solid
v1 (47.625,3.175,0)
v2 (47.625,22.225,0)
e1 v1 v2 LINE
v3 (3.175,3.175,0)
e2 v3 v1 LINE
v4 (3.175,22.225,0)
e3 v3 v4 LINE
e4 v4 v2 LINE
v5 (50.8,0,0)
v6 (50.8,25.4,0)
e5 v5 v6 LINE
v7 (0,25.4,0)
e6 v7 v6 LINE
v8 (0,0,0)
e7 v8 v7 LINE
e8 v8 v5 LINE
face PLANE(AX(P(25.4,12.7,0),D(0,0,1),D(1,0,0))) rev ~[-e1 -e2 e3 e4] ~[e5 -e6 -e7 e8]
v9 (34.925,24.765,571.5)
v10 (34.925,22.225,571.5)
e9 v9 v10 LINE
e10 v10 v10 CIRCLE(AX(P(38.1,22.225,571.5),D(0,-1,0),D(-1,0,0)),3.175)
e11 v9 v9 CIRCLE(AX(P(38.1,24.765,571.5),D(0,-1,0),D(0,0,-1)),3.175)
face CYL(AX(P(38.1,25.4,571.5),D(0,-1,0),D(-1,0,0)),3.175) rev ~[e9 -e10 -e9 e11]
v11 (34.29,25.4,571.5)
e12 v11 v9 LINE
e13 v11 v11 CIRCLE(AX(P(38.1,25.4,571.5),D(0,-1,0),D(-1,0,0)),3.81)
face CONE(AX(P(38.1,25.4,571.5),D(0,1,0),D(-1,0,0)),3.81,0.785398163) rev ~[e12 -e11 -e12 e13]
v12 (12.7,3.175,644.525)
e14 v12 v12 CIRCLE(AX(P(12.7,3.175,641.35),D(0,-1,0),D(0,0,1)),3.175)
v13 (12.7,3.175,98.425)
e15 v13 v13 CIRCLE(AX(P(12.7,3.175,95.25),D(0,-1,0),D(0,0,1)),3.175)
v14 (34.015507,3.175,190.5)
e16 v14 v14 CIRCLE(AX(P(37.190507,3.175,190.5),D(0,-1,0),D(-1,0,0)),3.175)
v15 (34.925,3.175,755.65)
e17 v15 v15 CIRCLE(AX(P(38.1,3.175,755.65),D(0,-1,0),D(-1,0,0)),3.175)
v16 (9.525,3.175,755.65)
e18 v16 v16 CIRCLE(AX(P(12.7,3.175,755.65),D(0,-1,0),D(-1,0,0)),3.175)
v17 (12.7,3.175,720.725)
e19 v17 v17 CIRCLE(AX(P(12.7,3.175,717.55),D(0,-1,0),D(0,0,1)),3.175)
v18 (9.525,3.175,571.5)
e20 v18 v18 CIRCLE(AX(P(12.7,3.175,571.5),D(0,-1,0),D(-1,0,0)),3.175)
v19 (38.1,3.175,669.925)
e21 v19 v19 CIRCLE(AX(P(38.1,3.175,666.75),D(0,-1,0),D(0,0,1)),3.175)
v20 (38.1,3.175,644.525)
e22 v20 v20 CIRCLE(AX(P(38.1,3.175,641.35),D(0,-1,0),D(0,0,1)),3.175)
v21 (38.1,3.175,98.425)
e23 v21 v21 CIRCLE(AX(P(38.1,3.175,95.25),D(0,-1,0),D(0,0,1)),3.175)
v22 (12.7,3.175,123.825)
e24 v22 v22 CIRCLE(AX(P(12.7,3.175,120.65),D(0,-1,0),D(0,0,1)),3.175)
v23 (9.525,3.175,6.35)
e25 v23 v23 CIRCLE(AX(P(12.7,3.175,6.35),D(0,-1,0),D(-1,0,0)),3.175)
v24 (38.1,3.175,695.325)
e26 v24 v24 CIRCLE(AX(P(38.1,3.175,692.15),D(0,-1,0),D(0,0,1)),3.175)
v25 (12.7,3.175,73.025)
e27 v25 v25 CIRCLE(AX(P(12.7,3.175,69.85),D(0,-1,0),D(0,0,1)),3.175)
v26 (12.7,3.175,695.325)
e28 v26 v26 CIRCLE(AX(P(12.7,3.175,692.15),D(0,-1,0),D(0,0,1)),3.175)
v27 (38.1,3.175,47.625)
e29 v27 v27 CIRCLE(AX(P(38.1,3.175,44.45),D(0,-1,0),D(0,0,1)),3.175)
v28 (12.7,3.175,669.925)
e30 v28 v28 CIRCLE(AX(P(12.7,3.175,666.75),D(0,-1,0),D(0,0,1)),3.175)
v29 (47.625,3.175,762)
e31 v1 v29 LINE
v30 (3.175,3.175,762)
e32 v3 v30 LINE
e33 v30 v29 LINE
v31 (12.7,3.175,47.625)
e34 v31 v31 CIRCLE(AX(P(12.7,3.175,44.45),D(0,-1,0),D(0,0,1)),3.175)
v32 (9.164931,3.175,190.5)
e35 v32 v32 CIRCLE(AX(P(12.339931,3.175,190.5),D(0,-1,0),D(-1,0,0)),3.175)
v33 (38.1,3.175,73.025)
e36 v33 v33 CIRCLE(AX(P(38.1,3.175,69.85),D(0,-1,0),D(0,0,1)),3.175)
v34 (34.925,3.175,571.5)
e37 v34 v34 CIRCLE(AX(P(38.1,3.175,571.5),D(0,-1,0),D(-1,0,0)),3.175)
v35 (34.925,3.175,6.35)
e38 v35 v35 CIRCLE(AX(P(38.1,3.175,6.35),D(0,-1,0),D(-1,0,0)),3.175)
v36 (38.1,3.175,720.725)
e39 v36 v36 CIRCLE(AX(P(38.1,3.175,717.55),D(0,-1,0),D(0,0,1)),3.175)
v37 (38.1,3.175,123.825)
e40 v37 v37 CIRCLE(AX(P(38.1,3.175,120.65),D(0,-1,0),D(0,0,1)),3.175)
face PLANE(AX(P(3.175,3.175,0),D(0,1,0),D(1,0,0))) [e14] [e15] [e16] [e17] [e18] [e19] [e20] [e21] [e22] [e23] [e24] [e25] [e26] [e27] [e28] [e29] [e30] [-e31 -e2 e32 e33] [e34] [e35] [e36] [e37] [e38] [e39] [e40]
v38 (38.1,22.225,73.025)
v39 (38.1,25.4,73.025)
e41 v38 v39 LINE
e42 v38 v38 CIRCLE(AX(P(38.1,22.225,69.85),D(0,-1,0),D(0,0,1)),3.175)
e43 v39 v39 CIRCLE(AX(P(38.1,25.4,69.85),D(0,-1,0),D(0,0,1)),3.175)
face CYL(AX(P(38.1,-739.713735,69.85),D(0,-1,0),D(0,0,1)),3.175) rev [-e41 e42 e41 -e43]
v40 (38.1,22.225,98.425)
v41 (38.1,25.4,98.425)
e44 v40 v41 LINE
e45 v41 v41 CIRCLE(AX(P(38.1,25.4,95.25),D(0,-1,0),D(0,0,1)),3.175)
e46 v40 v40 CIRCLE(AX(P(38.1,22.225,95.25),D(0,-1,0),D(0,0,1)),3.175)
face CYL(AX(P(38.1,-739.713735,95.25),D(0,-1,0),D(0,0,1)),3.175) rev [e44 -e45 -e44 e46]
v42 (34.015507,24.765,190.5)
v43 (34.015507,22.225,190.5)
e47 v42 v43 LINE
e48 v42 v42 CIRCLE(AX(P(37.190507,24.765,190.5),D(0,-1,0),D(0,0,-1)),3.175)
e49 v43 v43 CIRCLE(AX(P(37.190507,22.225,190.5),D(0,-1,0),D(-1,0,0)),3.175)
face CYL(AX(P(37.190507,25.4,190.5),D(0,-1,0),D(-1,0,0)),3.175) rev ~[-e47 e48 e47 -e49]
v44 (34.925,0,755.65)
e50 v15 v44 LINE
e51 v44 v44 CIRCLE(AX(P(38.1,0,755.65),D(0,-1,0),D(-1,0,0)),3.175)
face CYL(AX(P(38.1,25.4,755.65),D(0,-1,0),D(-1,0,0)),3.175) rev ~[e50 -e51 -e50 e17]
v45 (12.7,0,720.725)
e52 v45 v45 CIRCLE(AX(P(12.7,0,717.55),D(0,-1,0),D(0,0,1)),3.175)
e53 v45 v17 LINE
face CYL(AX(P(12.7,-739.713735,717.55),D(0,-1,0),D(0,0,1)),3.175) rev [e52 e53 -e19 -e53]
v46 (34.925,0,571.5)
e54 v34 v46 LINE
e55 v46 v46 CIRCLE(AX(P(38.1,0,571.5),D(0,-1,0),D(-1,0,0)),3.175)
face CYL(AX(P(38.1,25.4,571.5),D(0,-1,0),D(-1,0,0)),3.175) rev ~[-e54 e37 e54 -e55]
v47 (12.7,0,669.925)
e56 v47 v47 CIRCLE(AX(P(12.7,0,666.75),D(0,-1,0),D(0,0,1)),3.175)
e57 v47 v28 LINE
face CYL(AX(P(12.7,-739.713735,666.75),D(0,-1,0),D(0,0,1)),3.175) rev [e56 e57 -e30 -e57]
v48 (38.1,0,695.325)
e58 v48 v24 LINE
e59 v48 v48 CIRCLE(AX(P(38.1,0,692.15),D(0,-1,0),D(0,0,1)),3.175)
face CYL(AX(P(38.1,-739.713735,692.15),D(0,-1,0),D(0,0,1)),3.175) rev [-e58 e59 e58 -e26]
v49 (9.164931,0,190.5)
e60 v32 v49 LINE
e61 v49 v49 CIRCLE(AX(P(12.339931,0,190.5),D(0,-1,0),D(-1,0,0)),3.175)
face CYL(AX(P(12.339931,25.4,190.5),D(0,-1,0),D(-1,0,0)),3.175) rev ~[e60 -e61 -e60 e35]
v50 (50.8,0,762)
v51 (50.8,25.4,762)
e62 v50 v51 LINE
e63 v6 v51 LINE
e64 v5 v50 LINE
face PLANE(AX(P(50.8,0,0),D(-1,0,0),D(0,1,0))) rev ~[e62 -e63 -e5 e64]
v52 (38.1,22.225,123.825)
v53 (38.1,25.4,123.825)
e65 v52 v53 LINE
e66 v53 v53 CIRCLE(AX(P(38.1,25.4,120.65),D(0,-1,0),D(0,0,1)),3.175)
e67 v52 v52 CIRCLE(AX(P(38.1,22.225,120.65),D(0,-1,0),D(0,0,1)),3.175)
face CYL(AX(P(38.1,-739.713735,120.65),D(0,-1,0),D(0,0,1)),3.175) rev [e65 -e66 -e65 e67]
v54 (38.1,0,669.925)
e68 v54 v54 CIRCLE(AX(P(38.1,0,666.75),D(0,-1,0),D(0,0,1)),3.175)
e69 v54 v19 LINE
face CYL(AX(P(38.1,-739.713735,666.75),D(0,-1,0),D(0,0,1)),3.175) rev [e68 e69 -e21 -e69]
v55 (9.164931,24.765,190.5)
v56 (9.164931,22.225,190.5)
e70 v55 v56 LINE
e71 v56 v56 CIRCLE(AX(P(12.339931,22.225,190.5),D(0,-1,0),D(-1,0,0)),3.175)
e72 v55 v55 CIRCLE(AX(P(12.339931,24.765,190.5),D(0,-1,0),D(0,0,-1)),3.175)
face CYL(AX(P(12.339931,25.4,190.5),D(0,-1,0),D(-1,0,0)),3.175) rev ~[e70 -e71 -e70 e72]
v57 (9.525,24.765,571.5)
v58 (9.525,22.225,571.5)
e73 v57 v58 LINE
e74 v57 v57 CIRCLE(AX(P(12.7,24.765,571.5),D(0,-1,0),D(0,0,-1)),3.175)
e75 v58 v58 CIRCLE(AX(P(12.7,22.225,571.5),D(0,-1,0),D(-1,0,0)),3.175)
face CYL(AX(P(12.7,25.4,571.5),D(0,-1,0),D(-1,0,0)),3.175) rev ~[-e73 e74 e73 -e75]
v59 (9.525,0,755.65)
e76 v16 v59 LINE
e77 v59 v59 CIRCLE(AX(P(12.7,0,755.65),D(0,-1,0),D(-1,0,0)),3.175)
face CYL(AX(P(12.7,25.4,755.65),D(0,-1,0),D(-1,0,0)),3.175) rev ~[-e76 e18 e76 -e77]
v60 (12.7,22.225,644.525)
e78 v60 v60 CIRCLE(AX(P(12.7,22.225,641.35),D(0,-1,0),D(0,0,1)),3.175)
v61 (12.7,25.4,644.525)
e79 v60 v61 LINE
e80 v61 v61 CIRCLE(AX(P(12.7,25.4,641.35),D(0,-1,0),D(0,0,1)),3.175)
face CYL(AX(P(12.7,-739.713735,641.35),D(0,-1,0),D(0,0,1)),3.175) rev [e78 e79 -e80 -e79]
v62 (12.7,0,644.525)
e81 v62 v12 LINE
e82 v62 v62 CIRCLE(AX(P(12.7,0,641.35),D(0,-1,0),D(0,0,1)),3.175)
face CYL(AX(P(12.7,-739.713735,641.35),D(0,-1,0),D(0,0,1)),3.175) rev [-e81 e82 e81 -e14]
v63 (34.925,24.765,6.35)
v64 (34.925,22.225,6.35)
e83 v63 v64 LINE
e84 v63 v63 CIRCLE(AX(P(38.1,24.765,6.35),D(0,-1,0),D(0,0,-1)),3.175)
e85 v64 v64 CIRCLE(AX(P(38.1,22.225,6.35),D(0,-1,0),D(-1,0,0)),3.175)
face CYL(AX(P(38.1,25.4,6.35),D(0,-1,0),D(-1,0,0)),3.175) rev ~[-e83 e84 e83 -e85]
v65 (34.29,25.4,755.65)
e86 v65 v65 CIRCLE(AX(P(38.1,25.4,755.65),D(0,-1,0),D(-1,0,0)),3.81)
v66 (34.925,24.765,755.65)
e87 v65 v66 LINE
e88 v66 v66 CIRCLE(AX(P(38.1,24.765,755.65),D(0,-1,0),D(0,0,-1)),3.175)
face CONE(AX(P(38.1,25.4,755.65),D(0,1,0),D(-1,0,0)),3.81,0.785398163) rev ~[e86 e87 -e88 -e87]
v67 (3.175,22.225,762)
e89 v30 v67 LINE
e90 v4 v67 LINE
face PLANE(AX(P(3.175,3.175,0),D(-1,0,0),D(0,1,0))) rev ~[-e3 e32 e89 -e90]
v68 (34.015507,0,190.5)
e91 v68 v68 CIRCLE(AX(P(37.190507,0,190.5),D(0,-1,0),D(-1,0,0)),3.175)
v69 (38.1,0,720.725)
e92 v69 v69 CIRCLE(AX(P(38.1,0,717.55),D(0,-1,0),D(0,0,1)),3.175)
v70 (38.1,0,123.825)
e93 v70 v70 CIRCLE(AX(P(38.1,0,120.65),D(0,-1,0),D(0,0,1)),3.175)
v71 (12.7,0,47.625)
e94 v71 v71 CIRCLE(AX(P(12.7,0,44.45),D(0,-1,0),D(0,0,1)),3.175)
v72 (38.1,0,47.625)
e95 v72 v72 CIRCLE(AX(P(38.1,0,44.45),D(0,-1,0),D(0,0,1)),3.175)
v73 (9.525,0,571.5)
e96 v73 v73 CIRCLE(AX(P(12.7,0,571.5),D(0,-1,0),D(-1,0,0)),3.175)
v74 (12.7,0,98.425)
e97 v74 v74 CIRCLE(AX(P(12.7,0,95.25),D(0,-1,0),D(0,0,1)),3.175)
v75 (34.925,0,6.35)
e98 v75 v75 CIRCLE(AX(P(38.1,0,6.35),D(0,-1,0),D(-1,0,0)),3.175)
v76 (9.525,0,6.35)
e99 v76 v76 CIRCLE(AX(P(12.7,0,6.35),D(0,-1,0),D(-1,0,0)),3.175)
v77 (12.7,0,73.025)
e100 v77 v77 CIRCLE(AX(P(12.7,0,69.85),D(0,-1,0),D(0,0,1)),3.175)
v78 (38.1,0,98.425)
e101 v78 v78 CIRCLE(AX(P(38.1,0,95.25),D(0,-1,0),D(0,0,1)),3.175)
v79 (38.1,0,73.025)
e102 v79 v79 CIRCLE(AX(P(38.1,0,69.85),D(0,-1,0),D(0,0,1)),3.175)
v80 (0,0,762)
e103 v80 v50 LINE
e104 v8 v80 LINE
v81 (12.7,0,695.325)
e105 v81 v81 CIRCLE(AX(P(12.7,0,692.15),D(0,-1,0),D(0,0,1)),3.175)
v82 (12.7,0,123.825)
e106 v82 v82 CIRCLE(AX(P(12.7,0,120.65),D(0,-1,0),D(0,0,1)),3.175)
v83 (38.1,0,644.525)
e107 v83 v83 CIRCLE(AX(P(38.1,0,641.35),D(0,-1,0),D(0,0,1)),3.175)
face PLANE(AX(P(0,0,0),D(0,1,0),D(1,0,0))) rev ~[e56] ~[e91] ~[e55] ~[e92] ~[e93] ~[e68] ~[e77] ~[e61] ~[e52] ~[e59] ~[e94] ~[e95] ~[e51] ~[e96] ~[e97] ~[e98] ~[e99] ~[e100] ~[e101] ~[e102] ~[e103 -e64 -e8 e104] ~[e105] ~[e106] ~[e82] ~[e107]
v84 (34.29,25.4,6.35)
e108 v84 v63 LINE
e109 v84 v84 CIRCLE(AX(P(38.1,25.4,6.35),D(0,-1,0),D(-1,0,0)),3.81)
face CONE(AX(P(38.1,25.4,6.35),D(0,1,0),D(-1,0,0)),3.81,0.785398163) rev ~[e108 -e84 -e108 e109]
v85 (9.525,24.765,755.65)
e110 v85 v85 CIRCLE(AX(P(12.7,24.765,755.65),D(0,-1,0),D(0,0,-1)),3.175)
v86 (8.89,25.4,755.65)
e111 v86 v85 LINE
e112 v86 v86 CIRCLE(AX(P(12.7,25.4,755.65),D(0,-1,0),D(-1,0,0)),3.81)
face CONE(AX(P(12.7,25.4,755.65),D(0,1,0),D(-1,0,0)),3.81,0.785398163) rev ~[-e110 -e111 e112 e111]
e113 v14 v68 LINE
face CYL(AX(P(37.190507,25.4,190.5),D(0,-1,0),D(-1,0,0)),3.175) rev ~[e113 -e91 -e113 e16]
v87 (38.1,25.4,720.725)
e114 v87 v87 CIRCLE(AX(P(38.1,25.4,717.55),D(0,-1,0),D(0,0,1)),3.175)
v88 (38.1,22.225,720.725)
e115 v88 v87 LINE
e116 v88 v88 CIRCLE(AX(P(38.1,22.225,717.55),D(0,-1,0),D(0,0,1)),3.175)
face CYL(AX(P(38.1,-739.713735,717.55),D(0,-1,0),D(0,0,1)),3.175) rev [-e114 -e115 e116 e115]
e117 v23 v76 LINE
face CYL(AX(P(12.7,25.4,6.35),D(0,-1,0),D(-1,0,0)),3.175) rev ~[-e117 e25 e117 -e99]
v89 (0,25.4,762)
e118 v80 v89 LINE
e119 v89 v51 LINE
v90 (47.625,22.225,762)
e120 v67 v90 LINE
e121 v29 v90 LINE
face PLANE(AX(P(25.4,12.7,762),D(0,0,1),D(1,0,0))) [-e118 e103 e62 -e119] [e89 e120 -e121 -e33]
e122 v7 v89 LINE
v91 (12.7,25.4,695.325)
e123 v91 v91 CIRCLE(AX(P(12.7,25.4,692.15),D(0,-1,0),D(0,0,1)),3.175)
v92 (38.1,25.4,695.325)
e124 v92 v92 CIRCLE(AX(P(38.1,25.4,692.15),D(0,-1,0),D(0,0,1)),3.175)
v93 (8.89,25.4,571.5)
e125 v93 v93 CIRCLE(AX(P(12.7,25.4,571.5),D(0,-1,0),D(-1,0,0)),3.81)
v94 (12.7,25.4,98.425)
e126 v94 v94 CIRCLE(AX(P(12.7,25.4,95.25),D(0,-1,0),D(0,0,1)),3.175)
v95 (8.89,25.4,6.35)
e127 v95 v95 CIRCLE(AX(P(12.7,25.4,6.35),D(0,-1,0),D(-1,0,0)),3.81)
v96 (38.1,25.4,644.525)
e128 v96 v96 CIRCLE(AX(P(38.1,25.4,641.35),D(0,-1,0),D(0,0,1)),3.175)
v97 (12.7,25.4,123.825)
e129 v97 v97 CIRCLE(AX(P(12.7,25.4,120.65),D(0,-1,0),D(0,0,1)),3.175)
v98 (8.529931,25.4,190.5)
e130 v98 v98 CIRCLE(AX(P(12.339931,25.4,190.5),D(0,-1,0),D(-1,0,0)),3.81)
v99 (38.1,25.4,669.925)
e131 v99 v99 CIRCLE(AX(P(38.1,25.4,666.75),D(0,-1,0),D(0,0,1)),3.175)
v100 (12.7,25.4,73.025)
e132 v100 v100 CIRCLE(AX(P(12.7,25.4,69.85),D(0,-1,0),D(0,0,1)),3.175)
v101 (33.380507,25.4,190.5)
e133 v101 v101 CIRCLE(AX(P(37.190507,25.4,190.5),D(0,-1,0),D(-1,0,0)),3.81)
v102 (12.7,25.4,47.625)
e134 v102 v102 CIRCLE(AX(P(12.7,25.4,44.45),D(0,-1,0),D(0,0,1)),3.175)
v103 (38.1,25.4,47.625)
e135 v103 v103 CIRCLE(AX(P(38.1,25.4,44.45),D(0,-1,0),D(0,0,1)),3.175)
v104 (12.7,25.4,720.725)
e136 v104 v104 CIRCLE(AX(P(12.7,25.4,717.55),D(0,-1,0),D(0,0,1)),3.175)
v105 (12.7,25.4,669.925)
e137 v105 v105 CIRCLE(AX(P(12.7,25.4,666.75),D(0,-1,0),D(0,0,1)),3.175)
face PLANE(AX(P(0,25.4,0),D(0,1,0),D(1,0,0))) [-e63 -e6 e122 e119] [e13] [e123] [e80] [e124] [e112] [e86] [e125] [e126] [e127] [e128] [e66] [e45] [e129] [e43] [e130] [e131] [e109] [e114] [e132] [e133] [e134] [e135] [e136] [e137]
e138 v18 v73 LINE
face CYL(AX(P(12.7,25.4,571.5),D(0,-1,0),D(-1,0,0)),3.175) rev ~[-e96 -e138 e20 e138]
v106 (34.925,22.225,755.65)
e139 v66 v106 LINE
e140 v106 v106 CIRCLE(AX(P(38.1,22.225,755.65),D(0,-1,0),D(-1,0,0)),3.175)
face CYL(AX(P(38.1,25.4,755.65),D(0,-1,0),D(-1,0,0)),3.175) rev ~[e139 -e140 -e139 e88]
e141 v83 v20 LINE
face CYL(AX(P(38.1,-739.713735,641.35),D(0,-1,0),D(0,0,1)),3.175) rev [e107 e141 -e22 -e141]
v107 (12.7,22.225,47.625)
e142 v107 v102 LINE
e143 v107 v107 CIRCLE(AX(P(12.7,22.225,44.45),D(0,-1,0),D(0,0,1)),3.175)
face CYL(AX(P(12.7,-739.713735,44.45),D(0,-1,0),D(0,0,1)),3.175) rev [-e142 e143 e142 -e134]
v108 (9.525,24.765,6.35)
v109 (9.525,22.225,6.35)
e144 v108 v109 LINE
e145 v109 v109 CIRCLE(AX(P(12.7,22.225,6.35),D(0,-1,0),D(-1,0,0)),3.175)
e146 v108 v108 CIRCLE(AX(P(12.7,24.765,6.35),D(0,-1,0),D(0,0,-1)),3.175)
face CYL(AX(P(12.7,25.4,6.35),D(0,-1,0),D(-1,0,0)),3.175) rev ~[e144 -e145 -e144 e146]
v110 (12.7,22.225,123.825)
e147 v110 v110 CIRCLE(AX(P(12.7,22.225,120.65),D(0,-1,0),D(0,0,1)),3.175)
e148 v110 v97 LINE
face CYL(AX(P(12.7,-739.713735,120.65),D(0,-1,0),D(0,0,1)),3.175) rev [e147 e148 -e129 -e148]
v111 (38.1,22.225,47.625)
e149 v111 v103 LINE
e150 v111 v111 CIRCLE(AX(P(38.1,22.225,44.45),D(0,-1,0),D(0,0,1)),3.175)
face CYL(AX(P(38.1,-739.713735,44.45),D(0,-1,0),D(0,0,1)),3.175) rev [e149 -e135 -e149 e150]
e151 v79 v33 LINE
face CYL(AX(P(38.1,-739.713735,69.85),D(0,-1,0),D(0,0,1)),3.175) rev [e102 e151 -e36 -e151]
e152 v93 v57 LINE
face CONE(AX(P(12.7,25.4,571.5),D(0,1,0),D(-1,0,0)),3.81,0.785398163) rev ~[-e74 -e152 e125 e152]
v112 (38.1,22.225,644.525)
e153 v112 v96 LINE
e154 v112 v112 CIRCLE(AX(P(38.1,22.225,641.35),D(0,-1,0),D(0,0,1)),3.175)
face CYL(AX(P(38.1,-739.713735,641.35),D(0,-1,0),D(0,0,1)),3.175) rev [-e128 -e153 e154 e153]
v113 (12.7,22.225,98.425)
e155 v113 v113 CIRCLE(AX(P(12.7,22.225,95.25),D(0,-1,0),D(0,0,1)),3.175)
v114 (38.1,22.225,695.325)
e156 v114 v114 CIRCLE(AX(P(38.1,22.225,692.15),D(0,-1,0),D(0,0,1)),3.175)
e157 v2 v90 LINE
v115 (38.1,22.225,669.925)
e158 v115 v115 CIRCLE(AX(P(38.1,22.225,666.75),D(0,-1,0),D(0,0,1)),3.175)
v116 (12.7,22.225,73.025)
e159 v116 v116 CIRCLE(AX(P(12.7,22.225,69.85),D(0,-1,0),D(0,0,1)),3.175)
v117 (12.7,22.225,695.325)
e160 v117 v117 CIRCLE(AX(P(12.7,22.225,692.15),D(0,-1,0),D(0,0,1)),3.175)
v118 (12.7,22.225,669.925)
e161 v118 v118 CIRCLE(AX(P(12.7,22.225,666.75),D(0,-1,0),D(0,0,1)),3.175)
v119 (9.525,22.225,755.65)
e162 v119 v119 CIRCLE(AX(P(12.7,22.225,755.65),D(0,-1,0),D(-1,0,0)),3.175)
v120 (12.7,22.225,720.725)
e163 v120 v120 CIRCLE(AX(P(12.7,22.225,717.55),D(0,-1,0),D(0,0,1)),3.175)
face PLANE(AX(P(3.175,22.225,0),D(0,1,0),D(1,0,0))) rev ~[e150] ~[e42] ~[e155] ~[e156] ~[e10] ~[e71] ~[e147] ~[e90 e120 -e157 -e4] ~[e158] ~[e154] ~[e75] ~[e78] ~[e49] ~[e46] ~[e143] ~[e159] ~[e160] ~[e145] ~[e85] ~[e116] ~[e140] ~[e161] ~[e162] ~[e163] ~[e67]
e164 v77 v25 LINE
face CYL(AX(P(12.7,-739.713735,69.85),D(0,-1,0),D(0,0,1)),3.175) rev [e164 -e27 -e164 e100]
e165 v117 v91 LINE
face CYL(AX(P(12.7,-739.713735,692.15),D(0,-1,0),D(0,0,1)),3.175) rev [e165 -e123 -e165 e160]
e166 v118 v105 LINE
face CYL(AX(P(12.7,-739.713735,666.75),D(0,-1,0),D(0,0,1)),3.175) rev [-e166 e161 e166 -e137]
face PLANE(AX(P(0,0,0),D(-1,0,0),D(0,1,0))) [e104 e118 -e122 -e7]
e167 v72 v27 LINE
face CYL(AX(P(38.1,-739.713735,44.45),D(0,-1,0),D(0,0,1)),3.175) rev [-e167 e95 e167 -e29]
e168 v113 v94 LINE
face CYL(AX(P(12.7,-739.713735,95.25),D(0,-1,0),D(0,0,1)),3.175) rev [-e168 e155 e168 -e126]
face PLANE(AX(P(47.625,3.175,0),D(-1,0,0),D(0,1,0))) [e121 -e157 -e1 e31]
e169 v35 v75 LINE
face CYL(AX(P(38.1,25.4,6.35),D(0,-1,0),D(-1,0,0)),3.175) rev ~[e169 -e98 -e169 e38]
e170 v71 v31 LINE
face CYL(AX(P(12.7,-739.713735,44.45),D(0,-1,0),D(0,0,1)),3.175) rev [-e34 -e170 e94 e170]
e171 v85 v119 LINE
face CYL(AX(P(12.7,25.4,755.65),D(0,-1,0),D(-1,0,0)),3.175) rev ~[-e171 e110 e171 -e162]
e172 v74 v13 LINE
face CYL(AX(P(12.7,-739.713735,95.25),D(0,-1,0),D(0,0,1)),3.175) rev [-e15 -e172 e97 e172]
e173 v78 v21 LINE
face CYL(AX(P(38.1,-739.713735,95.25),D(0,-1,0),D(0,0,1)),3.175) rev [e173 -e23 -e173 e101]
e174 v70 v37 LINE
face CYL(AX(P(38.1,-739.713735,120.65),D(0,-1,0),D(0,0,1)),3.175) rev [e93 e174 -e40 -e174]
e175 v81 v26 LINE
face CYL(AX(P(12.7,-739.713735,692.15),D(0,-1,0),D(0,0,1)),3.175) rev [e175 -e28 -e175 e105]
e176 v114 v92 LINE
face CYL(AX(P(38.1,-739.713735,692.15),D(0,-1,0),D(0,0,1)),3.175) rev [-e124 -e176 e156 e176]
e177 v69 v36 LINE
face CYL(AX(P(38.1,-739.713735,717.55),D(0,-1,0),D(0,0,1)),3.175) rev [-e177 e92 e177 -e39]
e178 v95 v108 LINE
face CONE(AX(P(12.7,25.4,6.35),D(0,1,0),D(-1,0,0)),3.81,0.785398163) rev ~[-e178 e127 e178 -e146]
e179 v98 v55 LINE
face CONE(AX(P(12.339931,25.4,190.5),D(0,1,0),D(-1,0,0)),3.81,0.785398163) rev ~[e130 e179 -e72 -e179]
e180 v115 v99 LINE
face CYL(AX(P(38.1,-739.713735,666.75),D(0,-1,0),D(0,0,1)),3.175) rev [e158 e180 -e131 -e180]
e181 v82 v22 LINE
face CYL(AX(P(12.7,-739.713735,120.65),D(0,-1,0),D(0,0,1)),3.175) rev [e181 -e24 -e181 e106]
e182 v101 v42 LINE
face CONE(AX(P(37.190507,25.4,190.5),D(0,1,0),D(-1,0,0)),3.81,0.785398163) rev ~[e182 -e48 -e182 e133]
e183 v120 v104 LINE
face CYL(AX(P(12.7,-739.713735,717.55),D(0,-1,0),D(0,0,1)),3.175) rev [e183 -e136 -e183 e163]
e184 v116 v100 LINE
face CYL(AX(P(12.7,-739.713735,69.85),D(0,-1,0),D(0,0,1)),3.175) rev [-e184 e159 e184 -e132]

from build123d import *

# Parameters (mm, degrees)
SKETCH1_W                             = 50.8
SKETCH1_H                             = 25.4
SKETCH1_W_2                           = 44.45
SKETCH1_H_2                           = 19.05
BOSS_EXTRUDE1_DEPTH                   = 762
F_1_4_0_25_DIAMETER_HOLE1_D           = 6.35
F_1_4_0_25_DIAMETER_HOLE1_CSINK_D     = 7.62
F_1_4_0_25_DIAMETER_HOLE1_CSINK_ANGLE = 90
F_1_4_0_25_DIAMETER_HOLE2_D           = 6.35
F_1_4_0_25_DIAMETER_HOLE2_CSINK_D     = 7.62
F_1_4_0_25_DIAMETER_HOLE2_CSINK_ANGLE = 90
CUT_EXTRUDE1_DEPTH                    = 765.11373499
CUT_EXTRUDE1_DEPTH_BACK               = 765.11373499
SKETCH9_R                             = 3.175


with BuildPart() as part:
    # Sketch1 → Boss-Extrude1 (new body)
    with BuildSketch(Plane.XY):
        with Locations((25.4, 12.7)):
            Rectangle(SKETCH1_W, SKETCH1_H)
        with Locations((25.4, 12.7)):
            Rectangle(SKETCH1_W_2, SKETCH1_H_2, mode=Mode.SUBTRACT)
    extrude(amount=BOSS_EXTRUDE1_DEPTH)

    # 1/4 (0.25) Diameter Hole1 (through all)
    with Locations(Plane(origin=(0, 25.4, 0), x_dir=(1, 0, 0), z_dir=(0, 1, 0))):
        with Locations((12.7, -6.35), (38.1, -6.35), (12.339930778, -190.5), (37.190506558, -190.5)):
            CounterSinkHole(F_1_4_0_25_DIAMETER_HOLE1_D / 2, F_1_4_0_25_DIAMETER_HOLE1_CSINK_D / 2, counter_sink_angle=F_1_4_0_25_DIAMETER_HOLE1_CSINK_ANGLE)

    # 1/4 (0.25) Diameter Hole2 (through all)
    with Locations(Plane(origin=(0, 25.4, 0), x_dir=(1, 0, 0), z_dir=(0, 1, 0))):
        with Locations((12.7, -755.65), (38.1, -755.65), (38.1, -571.5), (12.7, -571.5)):
            CounterSinkHole(F_1_4_0_25_DIAMETER_HOLE2_D / 2, F_1_4_0_25_DIAMETER_HOLE2_CSINK_D / 2, counter_sink_angle=F_1_4_0_25_DIAMETER_HOLE2_CSINK_ANGLE)

    # Sketch9 → Cut-Extrude1 (cut, two sides: drawn at the far end of the back side and taken through both)
    with BuildSketch(Plane(origin=(0, 25.4, 0), x_dir=(1, 0, 0), z_dir=(0, 1, 0)).offset(-CUT_EXTRUDE1_DEPTH_BACK)):
        with Locations(Location((12.7, -95.25, 0), (0, 0, 270))):
            Circle(SKETCH9_R)
        with Locations(Location((38.1, -95.25, 0), (0, 0, 270))):
            Circle(SKETCH9_R)
        with Locations(Location((12.7, -69.85, 0), (0, 0, 270))):
            Circle(SKETCH9_R)
        with Locations(Location((38.1, -69.85, 0), (0, 0, 270))):
            Circle(SKETCH9_R)
        with Locations(Location((12.7, -44.45, 0), (0, 0, 270))):
            Circle(SKETCH9_R)
        with Locations(Location((38.1, -44.45, 0), (0, 0, 270))):
            Circle(SKETCH9_R)
        with Locations(Location((38.1, -120.65, 0), (0, 0, 270))):
            Circle(SKETCH9_R)
        with Locations(Location((12.7, -120.65, 0), (0, 0, 270))):
            Circle(SKETCH9_R)
        with Locations(Location((12.7, -641.35, 0), (0, 0, 270))):
            Circle(SKETCH9_R)
        with Locations(Location((38.1, -641.35, 0), (0, 0, 270))):
            Circle(SKETCH9_R)
        with Locations(Location((38.1, -666.75, 0), (0, 0, 270))):
            Circle(SKETCH9_R)
        with Locations(Location((12.7, -666.75, 0), (0, 0, 270))):
            Circle(SKETCH9_R)
        with Locations(Location((12.7, -692.15, 0), (0, 0, 270))):
            Circle(SKETCH9_R)
        with Locations(Location((38.1, -692.15, 0), (0, 0, 270))):
            Circle(SKETCH9_R)
        with Locations(Location((38.1, -717.55, 0), (0, 0, 270))):
            Circle(SKETCH9_R)
        with Locations(Location((12.7, -717.55, 0), (0, 0, 270))):
            Circle(SKETCH9_R)
    extrude(amount=CUT_EXTRUDE1_DEPTH + CUT_EXTRUDE1_DEPTH_BACK, mode=Mode.SUBTRACT)


solid = part.part
